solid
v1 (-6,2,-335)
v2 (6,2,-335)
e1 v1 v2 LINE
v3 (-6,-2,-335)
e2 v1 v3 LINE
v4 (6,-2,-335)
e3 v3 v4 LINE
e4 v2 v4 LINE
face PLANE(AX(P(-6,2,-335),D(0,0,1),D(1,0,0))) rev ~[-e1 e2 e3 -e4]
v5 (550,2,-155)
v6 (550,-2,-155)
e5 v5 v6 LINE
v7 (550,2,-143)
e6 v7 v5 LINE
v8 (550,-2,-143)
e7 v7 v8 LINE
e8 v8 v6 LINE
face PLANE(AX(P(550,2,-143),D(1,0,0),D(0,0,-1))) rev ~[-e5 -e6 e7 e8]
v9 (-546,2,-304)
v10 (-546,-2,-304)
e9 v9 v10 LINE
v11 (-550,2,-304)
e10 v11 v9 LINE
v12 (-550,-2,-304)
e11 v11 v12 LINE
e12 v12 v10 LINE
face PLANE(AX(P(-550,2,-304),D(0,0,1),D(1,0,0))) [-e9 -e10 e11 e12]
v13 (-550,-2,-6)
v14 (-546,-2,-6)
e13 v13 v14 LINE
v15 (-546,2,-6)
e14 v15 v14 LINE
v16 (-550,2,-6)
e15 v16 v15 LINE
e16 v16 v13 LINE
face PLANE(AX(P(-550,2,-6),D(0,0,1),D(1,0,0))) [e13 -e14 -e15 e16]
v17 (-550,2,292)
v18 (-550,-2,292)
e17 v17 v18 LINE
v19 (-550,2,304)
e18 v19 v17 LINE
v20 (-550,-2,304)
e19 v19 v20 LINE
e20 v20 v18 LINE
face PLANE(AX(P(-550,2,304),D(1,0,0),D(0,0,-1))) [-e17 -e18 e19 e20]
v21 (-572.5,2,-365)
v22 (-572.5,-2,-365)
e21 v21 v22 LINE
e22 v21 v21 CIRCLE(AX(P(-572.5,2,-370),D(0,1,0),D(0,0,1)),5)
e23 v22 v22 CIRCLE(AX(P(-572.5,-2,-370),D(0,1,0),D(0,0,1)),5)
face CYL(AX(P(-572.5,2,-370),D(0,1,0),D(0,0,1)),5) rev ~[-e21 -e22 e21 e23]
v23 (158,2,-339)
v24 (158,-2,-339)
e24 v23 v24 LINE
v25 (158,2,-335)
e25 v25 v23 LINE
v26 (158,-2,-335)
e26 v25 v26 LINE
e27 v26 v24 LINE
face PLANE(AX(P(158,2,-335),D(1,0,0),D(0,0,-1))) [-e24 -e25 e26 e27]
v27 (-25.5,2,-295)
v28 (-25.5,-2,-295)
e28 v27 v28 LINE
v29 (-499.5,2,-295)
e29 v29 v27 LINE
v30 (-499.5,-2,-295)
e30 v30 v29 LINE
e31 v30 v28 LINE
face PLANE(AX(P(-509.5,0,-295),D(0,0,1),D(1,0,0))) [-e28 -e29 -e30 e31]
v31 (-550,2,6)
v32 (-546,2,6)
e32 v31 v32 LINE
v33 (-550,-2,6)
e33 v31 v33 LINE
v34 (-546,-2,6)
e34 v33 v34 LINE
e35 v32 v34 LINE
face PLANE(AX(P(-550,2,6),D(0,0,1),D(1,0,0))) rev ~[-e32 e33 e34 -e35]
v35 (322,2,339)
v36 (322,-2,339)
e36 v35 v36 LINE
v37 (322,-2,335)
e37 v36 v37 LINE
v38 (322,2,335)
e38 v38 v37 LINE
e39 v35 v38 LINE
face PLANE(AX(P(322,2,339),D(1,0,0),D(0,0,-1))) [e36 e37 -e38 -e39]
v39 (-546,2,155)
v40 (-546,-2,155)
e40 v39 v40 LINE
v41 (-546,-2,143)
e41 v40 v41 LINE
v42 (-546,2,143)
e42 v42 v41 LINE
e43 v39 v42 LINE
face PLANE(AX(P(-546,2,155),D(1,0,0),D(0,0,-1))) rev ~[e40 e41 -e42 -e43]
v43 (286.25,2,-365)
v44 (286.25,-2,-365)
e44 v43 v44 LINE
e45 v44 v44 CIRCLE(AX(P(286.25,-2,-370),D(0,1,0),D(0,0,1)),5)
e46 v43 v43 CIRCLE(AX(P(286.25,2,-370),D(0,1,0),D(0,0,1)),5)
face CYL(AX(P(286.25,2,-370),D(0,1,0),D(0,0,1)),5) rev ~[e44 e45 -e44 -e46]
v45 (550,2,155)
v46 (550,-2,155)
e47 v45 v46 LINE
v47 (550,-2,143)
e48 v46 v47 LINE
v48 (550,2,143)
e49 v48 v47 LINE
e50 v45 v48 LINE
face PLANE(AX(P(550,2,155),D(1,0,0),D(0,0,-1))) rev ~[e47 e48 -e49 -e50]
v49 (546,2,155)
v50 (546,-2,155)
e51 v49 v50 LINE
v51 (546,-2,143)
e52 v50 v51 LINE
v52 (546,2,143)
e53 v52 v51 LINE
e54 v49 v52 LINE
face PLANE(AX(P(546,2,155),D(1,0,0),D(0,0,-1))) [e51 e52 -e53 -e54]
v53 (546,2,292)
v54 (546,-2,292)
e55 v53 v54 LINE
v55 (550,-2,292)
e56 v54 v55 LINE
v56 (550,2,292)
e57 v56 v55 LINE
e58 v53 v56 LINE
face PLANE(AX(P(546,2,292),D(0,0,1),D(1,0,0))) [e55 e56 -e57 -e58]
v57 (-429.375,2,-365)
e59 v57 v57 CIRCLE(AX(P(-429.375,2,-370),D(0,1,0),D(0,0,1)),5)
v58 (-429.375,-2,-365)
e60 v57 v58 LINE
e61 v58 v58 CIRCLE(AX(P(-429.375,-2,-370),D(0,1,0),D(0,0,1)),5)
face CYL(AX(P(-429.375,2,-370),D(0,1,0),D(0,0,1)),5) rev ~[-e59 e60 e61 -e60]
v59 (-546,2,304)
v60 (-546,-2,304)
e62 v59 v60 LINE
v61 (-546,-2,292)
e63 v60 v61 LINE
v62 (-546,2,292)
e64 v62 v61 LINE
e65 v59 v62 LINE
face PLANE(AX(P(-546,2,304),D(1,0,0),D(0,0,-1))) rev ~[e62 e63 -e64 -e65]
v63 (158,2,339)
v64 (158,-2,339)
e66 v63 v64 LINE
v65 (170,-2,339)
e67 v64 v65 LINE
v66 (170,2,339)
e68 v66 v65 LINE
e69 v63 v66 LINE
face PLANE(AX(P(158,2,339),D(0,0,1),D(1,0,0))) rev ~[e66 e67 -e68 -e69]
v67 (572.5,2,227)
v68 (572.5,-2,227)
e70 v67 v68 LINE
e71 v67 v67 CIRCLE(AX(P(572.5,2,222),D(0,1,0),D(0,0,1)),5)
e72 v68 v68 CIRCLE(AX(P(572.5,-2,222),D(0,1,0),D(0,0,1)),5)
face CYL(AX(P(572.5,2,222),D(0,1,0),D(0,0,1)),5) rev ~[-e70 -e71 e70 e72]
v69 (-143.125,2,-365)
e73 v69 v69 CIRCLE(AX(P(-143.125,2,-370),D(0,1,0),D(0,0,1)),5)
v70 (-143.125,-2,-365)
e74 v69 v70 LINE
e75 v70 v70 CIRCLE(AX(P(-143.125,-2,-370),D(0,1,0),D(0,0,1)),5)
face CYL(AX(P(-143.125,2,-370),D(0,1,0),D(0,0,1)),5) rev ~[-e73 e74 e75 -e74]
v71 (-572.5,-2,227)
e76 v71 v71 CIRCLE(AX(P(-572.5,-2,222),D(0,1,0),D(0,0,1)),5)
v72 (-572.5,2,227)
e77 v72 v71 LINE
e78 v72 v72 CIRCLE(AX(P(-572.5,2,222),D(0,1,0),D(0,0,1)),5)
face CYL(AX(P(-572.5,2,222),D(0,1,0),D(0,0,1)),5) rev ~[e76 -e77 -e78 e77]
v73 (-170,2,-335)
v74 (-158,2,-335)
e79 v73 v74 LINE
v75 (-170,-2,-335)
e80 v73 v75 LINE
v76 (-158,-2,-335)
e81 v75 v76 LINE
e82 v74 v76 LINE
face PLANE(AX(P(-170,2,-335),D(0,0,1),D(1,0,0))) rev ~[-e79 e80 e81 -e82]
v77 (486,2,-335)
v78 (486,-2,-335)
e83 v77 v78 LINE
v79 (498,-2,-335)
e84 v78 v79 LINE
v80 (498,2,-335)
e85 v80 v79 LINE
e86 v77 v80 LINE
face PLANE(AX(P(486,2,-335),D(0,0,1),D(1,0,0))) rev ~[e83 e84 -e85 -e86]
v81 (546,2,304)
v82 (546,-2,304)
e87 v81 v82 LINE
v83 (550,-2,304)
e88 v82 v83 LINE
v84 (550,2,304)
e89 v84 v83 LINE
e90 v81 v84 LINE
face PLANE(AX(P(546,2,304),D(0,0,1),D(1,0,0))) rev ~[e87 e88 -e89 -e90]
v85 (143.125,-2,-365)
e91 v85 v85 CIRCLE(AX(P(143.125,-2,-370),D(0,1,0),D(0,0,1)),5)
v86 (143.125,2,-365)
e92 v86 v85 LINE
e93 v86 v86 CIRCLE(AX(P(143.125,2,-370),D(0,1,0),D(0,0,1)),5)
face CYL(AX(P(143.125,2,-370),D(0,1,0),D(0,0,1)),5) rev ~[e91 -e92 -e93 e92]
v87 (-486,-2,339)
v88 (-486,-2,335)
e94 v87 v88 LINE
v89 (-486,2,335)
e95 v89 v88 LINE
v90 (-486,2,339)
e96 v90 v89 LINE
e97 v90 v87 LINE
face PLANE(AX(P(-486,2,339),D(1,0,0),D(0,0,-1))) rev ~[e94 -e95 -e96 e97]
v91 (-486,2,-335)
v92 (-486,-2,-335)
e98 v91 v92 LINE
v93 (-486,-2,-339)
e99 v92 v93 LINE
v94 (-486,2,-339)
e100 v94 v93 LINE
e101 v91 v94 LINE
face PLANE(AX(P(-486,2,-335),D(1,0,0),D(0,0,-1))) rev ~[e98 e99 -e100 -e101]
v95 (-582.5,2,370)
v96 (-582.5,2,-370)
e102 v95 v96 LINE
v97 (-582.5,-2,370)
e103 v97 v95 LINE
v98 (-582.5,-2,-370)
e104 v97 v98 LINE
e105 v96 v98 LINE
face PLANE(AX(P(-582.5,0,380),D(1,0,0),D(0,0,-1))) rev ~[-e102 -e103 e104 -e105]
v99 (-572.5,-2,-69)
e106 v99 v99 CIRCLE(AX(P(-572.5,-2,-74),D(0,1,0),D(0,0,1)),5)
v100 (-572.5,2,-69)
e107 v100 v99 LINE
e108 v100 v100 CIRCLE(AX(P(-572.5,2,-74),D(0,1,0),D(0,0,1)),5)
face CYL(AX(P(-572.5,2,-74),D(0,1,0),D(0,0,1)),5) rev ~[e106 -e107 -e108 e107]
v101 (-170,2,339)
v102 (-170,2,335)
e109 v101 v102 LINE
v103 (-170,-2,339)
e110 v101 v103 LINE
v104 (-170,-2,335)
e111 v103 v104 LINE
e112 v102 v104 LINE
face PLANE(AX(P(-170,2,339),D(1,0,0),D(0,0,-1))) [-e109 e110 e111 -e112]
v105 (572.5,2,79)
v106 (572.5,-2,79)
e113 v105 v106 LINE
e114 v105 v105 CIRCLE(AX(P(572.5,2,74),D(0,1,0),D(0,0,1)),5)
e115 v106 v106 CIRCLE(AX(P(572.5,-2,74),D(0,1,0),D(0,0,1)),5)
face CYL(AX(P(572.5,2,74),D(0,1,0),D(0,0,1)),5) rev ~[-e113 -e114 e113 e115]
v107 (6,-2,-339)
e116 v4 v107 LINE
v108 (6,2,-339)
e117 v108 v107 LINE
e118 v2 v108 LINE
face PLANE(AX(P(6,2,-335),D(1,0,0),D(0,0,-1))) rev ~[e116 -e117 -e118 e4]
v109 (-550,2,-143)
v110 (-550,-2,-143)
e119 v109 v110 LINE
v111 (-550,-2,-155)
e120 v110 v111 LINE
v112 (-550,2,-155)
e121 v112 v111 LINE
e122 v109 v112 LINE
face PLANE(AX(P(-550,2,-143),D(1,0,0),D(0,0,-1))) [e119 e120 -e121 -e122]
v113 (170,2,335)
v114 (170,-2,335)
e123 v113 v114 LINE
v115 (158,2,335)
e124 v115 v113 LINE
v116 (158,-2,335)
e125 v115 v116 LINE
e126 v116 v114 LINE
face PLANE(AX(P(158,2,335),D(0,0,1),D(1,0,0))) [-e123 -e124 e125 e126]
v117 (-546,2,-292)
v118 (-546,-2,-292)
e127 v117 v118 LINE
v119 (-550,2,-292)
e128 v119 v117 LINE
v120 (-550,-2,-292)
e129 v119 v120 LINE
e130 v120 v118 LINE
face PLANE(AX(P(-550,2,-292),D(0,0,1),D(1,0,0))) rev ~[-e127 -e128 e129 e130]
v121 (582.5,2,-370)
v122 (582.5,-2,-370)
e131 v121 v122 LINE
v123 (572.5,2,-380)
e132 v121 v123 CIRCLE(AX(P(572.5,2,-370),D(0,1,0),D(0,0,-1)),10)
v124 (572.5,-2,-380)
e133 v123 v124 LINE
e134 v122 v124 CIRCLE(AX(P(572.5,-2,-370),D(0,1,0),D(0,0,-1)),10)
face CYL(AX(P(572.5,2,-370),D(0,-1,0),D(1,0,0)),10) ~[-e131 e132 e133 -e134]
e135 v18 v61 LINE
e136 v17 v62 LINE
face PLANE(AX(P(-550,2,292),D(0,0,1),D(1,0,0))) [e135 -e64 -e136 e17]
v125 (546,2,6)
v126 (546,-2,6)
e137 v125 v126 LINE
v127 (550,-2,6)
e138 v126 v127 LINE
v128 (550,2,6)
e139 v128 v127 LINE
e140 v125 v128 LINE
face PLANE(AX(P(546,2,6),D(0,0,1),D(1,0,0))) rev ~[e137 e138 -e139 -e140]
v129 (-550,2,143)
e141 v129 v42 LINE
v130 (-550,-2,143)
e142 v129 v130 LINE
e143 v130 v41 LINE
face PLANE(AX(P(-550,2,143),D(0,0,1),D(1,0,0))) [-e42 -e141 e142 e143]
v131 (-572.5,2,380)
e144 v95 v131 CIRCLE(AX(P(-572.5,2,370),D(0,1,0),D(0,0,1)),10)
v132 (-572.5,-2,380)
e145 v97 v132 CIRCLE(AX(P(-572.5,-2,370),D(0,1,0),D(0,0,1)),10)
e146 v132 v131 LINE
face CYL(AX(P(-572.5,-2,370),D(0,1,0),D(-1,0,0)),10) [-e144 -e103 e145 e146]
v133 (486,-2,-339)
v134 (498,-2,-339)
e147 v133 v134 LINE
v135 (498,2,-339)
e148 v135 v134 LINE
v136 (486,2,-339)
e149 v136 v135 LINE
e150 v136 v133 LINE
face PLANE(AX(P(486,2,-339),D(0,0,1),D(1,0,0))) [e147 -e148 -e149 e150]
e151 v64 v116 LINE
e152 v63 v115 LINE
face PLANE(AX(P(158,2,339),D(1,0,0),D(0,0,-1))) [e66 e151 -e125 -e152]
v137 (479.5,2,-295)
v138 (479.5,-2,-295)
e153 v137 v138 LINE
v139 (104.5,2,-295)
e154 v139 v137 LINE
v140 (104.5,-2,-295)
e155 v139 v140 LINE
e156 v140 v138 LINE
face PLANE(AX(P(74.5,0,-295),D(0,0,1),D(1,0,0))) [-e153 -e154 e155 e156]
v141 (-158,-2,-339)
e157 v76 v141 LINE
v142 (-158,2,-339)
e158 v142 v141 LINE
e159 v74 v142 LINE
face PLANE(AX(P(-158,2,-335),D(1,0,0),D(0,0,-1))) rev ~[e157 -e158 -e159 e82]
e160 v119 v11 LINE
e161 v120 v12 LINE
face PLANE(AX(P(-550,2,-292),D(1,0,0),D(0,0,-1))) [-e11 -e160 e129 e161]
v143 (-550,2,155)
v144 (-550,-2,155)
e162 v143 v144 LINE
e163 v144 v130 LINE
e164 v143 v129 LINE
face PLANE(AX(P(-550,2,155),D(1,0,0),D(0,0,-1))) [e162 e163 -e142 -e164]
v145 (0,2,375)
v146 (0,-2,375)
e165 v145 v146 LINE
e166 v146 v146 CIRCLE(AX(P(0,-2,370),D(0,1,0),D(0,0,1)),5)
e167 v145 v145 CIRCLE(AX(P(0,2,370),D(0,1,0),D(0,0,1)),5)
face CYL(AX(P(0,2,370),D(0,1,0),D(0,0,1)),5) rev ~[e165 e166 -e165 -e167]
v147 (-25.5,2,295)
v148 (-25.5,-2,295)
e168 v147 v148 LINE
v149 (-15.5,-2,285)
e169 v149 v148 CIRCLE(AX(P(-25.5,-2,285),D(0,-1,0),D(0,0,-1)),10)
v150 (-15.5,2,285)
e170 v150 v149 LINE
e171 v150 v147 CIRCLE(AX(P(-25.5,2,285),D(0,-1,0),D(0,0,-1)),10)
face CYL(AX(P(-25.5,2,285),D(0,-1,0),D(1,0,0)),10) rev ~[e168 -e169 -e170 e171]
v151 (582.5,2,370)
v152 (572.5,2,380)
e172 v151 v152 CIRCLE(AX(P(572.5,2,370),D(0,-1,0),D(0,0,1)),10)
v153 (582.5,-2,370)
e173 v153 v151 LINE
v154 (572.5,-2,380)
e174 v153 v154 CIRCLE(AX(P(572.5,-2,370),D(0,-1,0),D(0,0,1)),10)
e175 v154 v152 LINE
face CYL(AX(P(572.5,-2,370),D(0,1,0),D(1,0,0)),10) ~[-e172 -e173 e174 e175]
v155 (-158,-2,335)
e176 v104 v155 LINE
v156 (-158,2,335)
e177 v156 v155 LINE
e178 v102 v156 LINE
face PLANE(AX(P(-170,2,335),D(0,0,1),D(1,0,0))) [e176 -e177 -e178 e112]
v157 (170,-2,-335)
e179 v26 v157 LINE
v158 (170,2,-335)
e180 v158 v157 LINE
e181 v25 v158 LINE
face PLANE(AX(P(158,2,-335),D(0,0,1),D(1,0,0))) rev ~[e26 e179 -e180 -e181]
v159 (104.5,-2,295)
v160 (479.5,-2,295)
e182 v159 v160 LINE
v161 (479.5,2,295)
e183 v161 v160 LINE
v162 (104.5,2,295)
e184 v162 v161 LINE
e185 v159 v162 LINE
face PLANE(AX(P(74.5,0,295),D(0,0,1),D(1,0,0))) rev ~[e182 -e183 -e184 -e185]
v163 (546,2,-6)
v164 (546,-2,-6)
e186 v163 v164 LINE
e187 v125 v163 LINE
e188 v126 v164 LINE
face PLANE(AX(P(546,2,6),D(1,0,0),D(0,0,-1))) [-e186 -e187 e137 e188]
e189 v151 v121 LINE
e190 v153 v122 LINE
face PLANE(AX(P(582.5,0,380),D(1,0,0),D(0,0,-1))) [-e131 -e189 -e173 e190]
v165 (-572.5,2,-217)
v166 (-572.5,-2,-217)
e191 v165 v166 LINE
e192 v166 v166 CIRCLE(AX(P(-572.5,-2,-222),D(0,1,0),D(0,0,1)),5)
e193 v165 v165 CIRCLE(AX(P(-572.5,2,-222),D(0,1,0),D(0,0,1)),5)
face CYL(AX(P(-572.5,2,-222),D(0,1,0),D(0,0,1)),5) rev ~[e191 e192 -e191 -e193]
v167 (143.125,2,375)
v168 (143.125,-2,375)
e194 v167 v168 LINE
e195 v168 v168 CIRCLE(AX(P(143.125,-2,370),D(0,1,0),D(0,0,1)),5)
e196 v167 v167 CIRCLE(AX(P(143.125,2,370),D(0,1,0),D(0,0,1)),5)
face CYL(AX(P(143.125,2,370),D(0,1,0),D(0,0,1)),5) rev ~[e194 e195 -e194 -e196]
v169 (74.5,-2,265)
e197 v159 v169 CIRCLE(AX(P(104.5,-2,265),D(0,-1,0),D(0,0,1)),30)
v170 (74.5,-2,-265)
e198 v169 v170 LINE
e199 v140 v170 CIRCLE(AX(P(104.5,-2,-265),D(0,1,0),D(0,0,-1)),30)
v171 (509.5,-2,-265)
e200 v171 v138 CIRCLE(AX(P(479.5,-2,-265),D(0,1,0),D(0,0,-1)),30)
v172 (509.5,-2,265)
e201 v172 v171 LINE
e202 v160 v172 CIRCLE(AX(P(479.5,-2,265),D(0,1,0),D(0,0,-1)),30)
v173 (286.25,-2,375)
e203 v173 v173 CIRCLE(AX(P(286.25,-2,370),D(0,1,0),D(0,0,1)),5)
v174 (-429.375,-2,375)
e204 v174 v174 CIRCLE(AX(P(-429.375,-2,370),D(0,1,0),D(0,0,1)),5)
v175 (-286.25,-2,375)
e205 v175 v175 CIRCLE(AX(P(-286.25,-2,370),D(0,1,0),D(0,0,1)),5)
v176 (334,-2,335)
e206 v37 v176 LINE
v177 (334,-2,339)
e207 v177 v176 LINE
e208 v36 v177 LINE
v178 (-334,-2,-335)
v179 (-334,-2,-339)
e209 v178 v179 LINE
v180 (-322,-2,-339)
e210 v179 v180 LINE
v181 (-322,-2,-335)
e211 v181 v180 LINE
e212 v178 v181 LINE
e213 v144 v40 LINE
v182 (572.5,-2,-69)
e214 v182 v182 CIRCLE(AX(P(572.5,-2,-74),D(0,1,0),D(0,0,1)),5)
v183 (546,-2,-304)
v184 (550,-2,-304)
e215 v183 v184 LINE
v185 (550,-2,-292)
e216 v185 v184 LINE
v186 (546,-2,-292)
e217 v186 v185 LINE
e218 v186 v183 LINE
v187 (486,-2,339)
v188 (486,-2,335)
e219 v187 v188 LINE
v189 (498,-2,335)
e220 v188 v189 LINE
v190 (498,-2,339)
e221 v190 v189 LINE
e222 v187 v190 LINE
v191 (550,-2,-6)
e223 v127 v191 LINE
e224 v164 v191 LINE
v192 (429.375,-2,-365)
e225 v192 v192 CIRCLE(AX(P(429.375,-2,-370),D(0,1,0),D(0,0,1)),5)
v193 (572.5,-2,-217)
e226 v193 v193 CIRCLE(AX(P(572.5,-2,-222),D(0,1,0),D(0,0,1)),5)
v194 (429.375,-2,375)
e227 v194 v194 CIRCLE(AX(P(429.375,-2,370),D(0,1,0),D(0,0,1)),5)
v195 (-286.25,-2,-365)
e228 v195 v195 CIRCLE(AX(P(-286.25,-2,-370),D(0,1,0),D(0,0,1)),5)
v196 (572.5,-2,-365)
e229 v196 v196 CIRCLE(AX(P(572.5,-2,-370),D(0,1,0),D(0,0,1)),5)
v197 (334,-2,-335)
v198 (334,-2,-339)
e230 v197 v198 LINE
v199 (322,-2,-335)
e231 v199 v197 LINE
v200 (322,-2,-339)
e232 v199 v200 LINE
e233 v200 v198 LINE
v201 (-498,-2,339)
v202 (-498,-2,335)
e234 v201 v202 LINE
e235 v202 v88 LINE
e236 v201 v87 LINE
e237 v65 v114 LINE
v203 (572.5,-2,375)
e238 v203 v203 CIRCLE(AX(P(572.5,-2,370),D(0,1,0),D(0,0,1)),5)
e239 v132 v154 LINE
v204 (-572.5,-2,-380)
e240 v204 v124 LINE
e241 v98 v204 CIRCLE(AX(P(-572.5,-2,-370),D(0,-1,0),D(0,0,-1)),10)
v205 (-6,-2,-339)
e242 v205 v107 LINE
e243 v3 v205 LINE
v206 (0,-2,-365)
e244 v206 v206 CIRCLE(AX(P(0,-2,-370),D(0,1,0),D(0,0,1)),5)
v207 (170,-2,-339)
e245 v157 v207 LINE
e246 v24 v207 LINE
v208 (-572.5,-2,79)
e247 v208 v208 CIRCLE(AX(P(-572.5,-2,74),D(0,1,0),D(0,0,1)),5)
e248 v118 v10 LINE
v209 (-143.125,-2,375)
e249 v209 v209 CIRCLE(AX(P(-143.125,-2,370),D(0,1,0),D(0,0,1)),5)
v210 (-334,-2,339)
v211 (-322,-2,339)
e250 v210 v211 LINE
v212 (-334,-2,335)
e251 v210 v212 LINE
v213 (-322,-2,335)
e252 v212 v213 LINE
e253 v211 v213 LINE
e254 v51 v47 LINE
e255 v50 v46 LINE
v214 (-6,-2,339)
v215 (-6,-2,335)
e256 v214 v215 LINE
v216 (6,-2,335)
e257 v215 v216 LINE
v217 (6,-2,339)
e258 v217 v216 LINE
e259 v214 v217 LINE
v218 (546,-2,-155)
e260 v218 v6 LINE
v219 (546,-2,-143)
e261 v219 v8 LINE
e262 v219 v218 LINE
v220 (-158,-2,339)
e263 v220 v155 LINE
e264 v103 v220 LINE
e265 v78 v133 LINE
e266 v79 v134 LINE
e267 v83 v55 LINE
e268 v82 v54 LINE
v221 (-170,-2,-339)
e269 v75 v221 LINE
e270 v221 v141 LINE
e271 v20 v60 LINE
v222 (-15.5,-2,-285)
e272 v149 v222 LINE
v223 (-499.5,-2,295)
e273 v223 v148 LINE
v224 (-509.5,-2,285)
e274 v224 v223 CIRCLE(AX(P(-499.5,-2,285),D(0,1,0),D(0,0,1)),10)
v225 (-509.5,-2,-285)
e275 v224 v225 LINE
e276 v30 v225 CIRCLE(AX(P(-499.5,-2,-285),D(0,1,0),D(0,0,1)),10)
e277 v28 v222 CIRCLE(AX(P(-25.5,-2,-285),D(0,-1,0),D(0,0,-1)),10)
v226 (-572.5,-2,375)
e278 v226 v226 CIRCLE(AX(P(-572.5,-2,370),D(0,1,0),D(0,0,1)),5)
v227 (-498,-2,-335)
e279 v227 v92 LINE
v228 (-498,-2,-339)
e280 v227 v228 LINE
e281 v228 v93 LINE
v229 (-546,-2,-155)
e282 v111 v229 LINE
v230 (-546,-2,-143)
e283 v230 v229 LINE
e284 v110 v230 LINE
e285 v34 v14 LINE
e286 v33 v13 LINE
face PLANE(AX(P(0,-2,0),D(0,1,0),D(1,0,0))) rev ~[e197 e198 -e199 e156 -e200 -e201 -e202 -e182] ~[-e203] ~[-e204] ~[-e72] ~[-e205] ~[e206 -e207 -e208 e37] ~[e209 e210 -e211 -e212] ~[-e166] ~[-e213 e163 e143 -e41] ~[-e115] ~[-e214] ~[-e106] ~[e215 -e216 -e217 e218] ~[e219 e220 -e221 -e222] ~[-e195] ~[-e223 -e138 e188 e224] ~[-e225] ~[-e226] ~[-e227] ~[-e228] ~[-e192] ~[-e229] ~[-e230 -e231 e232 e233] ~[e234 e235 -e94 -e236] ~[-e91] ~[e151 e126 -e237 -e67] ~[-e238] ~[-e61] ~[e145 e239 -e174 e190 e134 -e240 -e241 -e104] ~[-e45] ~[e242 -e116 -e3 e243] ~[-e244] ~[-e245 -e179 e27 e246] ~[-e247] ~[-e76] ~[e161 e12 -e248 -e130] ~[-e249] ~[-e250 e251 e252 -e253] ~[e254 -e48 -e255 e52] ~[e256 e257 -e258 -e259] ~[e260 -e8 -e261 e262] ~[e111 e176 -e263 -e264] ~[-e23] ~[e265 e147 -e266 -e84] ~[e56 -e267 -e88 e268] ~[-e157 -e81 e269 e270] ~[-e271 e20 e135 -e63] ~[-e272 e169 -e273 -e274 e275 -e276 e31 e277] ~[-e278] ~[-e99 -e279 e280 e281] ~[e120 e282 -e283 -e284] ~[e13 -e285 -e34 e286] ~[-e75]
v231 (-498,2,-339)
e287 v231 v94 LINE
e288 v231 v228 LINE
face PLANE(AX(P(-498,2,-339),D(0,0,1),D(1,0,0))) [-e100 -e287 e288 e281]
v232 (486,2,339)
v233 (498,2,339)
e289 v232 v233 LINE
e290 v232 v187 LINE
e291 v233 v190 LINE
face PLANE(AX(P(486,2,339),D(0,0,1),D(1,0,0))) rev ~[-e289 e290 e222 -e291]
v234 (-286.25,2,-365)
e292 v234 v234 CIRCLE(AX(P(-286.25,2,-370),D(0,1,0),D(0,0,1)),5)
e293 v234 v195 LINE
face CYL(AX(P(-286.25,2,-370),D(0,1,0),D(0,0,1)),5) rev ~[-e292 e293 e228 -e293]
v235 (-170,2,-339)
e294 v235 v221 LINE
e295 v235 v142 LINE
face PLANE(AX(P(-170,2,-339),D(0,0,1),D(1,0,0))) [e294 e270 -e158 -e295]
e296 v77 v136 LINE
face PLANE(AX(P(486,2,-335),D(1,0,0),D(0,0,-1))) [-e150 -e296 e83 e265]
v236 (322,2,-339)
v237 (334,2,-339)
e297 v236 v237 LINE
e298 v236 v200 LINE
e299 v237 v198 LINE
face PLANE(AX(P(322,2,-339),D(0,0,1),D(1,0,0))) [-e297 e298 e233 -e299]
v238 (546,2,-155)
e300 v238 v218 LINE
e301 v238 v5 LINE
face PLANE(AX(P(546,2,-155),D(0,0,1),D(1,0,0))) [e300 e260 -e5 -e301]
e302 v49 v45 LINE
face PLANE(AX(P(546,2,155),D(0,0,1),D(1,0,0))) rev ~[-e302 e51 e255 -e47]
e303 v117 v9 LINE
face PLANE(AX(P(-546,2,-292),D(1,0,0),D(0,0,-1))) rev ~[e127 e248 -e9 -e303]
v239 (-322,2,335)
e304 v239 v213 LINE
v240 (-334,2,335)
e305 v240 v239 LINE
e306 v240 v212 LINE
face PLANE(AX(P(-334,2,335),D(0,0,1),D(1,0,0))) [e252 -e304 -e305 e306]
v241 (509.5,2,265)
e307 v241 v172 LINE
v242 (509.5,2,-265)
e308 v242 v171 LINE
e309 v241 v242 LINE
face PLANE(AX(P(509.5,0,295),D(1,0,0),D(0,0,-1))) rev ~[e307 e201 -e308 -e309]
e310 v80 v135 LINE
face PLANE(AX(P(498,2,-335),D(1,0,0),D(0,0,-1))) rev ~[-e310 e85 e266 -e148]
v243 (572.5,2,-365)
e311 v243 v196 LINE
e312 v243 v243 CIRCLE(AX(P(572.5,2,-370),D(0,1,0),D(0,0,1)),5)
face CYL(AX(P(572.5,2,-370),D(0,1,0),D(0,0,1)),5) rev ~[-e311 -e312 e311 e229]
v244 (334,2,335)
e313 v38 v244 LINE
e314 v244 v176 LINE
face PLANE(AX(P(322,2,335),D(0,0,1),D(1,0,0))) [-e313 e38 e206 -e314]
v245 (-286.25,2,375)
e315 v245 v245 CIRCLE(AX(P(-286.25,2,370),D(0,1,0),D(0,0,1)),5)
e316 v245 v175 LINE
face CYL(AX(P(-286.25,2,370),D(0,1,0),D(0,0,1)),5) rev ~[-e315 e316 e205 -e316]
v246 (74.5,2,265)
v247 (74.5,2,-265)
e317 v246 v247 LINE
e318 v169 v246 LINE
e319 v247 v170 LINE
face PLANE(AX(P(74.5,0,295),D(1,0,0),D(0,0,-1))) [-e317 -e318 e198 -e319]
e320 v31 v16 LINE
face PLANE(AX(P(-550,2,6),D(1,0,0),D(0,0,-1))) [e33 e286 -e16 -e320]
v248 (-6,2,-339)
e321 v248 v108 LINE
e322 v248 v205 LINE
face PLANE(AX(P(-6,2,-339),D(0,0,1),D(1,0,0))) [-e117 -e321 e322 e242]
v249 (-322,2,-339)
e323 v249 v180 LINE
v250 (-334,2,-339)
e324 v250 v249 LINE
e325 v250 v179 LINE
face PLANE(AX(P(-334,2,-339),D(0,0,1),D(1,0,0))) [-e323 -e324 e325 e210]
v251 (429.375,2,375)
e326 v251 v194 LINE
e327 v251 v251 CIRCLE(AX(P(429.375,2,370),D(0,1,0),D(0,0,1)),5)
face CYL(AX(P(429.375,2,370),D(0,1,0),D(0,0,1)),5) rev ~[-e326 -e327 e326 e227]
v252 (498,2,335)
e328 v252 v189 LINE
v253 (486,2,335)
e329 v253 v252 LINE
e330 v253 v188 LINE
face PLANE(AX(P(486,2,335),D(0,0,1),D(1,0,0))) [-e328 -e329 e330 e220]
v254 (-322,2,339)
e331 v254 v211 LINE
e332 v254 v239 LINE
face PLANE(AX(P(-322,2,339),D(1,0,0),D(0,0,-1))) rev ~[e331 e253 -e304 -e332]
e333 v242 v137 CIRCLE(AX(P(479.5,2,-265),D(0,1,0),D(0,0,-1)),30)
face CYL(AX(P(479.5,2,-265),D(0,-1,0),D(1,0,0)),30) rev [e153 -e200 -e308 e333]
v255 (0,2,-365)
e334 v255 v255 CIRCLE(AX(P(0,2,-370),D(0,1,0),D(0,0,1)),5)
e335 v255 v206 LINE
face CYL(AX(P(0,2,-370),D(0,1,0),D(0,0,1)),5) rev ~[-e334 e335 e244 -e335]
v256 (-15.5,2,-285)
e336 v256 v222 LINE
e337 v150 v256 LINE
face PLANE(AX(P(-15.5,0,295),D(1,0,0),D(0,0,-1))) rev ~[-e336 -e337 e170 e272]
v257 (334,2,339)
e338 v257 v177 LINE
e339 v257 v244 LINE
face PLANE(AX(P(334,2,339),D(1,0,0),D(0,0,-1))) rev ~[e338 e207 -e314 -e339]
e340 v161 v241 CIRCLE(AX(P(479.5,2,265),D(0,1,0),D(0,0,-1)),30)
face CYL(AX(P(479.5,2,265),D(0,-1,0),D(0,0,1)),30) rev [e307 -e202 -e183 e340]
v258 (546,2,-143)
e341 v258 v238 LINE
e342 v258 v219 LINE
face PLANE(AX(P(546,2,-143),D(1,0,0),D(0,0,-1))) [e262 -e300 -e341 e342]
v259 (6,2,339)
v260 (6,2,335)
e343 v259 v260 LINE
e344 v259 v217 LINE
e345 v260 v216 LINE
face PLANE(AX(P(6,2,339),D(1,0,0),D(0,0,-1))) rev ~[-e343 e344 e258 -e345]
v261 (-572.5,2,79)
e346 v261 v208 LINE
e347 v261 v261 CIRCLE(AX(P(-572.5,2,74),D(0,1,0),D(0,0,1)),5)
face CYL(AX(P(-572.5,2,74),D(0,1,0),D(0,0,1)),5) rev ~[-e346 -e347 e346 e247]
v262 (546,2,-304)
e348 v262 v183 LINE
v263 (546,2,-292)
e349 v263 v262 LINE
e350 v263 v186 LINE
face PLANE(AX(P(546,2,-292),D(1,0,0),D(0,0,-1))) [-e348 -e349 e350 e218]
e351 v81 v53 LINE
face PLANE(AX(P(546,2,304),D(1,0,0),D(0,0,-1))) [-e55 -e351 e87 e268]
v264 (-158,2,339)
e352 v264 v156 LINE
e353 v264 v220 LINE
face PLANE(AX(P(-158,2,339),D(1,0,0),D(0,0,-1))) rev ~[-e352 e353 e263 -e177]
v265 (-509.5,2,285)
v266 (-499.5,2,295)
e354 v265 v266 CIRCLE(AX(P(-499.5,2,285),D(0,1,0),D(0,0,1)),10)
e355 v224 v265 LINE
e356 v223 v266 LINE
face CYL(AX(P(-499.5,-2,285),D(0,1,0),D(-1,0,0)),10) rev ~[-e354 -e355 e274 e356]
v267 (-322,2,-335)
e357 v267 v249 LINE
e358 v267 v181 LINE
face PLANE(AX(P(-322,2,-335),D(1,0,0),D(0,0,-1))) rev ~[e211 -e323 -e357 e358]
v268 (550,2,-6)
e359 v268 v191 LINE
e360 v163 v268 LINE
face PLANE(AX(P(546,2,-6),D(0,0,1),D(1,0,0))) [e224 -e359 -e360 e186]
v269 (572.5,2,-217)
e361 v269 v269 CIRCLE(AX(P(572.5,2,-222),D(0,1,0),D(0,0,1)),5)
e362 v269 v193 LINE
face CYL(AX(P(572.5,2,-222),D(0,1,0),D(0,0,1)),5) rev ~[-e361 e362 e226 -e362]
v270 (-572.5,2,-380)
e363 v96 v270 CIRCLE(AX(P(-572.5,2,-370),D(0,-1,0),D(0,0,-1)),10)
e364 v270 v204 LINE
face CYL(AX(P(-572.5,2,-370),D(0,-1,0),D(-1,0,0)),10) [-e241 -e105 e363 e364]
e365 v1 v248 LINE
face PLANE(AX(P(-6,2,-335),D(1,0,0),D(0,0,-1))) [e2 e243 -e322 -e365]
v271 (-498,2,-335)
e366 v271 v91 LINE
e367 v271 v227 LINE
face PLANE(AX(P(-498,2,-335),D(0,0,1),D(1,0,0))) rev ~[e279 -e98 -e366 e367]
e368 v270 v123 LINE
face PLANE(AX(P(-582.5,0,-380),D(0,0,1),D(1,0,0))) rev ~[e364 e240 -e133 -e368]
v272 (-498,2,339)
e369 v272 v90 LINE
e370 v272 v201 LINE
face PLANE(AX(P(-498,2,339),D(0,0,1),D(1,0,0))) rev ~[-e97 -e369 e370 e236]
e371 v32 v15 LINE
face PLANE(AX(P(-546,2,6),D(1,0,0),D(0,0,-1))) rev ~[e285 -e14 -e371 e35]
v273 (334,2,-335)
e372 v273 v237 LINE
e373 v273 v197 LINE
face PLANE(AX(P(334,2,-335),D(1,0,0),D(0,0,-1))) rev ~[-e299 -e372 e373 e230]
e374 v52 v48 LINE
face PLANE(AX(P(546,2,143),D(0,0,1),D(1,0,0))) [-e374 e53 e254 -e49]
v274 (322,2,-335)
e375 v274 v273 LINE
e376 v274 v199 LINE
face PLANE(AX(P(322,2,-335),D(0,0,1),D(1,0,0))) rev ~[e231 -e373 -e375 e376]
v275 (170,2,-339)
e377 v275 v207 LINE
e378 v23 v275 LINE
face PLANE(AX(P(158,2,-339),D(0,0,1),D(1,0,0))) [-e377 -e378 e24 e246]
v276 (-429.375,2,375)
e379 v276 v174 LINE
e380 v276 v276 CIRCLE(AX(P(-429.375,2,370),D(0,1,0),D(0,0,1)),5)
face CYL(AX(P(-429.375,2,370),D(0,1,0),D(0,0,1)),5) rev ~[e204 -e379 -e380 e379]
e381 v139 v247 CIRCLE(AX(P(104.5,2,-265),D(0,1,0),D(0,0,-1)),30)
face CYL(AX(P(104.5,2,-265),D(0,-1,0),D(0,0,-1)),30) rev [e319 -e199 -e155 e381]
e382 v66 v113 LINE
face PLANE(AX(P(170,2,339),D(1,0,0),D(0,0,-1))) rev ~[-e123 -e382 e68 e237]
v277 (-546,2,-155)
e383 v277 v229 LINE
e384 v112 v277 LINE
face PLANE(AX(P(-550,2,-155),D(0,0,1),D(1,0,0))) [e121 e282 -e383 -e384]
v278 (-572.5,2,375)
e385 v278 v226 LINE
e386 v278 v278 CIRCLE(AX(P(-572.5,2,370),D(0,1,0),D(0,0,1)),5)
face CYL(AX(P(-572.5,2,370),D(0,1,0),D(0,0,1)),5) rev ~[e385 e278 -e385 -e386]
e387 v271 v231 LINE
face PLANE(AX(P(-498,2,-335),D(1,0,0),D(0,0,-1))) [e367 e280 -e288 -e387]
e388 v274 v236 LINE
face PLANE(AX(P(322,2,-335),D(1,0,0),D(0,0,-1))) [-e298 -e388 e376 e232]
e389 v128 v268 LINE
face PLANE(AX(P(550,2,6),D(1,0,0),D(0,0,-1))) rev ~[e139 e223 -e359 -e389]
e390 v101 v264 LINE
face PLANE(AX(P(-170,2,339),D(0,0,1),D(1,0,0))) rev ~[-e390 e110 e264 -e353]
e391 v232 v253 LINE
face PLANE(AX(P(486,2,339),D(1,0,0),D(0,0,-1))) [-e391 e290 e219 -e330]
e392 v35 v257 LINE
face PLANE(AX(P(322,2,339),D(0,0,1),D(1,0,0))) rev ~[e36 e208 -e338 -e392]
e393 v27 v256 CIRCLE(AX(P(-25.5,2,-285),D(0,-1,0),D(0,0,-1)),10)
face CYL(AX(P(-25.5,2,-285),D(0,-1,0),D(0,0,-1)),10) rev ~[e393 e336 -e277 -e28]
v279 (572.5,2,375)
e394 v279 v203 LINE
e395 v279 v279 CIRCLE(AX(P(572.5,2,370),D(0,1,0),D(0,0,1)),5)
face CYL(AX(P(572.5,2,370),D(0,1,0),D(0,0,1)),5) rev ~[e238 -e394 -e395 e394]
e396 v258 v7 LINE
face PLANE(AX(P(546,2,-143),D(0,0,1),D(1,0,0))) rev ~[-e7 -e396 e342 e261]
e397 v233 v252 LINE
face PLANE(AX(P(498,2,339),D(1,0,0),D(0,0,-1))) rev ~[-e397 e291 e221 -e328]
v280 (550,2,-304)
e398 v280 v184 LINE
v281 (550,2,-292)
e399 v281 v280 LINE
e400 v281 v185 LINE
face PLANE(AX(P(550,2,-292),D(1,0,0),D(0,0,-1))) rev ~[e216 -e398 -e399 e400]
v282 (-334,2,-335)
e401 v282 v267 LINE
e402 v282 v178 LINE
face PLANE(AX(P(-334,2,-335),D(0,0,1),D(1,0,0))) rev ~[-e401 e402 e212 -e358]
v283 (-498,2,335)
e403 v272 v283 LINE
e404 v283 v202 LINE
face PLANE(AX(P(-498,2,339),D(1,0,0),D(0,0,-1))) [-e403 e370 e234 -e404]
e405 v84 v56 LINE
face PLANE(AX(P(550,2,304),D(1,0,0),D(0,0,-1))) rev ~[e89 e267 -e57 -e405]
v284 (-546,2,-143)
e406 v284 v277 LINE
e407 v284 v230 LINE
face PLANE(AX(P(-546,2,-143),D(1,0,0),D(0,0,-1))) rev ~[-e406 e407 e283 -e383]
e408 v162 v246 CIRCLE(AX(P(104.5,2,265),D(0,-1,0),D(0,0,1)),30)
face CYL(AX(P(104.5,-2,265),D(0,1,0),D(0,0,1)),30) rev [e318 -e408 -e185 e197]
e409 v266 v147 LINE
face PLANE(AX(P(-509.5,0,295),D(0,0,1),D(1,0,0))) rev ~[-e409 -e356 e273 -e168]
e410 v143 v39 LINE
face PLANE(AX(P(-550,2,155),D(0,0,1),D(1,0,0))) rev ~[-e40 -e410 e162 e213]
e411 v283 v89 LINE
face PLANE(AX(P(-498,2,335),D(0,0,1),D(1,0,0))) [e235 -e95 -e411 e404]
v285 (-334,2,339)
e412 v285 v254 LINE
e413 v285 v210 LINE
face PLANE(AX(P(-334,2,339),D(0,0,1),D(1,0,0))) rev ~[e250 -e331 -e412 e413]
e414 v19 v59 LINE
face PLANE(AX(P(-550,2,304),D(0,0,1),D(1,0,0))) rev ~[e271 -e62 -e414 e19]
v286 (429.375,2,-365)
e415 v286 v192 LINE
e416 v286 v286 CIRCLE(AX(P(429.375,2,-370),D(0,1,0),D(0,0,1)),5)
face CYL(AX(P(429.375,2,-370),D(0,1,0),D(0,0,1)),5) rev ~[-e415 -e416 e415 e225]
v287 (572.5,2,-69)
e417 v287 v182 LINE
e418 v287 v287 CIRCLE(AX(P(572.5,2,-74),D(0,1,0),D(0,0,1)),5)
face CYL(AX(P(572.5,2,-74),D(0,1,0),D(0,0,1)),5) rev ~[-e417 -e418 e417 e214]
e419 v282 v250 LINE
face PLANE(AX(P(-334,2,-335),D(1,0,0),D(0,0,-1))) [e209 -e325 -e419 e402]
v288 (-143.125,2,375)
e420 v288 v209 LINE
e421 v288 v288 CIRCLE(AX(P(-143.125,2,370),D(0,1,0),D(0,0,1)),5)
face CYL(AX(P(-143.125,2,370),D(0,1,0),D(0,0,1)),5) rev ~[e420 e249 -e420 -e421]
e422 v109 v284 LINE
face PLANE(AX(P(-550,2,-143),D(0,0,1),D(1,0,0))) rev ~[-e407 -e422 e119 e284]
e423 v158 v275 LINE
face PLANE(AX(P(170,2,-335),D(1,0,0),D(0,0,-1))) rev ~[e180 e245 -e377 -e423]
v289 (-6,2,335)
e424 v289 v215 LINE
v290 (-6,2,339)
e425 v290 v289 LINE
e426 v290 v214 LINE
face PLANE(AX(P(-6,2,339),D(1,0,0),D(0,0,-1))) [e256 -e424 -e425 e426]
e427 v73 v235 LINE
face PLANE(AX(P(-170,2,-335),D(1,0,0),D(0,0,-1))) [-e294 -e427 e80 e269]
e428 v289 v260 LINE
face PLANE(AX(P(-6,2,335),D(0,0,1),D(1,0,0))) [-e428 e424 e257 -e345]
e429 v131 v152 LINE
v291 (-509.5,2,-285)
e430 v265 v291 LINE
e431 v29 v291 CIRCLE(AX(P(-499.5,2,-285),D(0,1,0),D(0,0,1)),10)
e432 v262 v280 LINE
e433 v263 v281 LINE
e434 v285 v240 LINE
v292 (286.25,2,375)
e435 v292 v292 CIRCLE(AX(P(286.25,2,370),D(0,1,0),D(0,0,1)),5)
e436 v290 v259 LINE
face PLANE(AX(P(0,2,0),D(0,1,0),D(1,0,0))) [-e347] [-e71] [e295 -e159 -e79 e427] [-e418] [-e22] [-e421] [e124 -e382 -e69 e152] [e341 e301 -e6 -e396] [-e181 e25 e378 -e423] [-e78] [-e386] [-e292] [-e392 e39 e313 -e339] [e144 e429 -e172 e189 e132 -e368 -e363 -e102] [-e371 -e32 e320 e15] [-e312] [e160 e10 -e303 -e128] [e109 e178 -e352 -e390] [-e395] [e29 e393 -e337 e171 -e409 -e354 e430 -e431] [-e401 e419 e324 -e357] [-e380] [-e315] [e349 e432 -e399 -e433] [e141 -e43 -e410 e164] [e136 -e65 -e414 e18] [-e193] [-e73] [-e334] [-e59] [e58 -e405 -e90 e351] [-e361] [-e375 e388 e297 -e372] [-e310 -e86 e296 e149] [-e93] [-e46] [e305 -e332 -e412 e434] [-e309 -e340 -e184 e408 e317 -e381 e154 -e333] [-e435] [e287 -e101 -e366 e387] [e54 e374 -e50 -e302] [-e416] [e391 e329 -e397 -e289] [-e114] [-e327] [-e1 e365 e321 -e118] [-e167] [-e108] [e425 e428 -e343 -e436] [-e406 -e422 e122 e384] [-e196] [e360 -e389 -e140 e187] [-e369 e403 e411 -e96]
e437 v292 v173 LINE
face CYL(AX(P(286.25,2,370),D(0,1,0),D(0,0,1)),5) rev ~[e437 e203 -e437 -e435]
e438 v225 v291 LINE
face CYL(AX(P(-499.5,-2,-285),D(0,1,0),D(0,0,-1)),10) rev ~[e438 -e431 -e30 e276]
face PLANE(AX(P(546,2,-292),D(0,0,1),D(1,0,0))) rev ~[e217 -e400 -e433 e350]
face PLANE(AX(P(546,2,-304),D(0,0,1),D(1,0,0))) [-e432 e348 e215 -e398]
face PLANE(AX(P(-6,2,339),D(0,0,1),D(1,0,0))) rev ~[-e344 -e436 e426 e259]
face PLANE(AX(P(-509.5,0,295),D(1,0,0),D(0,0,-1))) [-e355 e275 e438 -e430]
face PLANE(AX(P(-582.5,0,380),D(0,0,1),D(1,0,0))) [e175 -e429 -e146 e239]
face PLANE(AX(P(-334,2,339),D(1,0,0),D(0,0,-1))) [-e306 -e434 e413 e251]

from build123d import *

# Parameters (mm, degrees)
SKETCH_1_W                  = 1165
SKETCH_1_H                  = 760
SKETCH_1_W_2                = 494
SKETCH_1_H_2                = 590
SKETCH_1_W_3                = 435
EXTRUDE_1_DEPTH             = 2
FILLET_1_R                  = 10
FILLET_2_R                  = 30
SKETCH_2_R                  = 5
CUT_EXTRUDE_1_DEPTH         = 696.501437813
PATTERN_LINEAR_1_COUNT      = 6
PATTERN_LINEAR_1_PITCH      = 148
PATTERN_LINEAR_1_COUNT_DIR2 = 9
PATTERN_LINEAR_1_PITCH_DIR2 = 143.125
SKETCH_3_W                  = 12
SKETCH_3_H                  = 4
SKETCH_3_W_2                = 4
SKETCH_3_H_2                = 12
CUT_EXTRUDE_2_DEPTH         = 696.501437813


with BuildPart() as part:
    # Эскиз1 → Бобышка-Вытянуть1 (new, symmetric)
    with BuildSketch(Plane(origin=(0, 0, 0), x_dir=(1, 0, 0), z_dir=(0, 1, 0))):
        Rectangle(SKETCH_1_W, SKETCH_1_H)
        with Locations((-262.5, 0)):
            Rectangle(SKETCH_1_W_2, SKETCH_1_H_2, mode=Mode.SUBTRACT)
        with Locations((292, 0)):
            Rectangle(SKETCH_1_W_3, SKETCH_1_H_2, mode=Mode.SUBTRACT)
    extrude(amount=EXTRUDE_1_DEPTH, both=True)

    # Скругление1
    fillet_1_edges = [part.edges().sort_by_distance(p)[0] for p in [
        (-509.5, 0, -295),
        (-509.5, 0, 295),
        (-15.5, 0, 295),
        (-15.5, 0, -295),
        (582.5, 0, 380),
        (-582.5, 0, 380),
        (-582.5, 0, -380),
        (582.5, 0, -380),
    ]]
    fillet(fillet_1_edges, radius=FILLET_1_R)

    # Скругление2
    fillet_2_edges = [part.edges().sort_by_distance(p)[0] for p in [
        (74.5, 0, -295),
        (74.5, 0, 295),
        (509.5, 0, 295),
        (509.5, 0, -295),
    ]]
    fillet(fillet_2_edges, radius=FILLET_2_R)

    # Эскиз2 → Вырез-Вытянуть1 (cut, through all)
    with BuildSketch(Plane(origin=(0, 2, 0), x_dir=(1, 0, 0), z_dir=(0, 1, 0))):
        with Locations(Location((-572.5, -370, 0), (0, 0, 270))):
            Circle(SKETCH_2_R)
    cut_extrude_1 = extrude(amount=-CUT_EXTRUDE_1_DEPTH, mode=Mode.SUBTRACT)

    # Линейный массив1: Cut-Extrude 1 6 × 9, 25 skipped
    with Locations(*[(j * PATTERN_LINEAR_1_PITCH_DIR2, 0, -i * PATTERN_LINEAR_1_PITCH) for i in range(PATTERN_LINEAR_1_COUNT) for j in range(PATTERN_LINEAR_1_COUNT_DIR2) if (i, j) not in ((0, 0), (1, 1), (1, 2), (1, 3), (1, 4), (1, 5), (1, 6), (1, 7), (2, 1), (2, 2), (2, 3), (2, 4), (2, 5), (2, 6), (2, 7), (3, 1), (3, 2), (3, 3), (3, 4), (3, 5), (3, 6), (3, 7), (4, 1), (4, 2), (4, 3), (4, 4))]):
        add(cut_extrude_1, mode=Mode.SUBTRACT)

    # Эскиз3 → Вырез-Вытянуть2 (cut, through all)
    with BuildSketch(Plane(origin=(0, 2, 0), x_dir=(1, 0, 0), z_dir=(0, 1, 0))):
        with Locations((492, 337)):
            Rectangle(SKETCH_3_W, SKETCH_3_H)
        with Locations((328, 337)):
            Rectangle(SKETCH_3_W, SKETCH_3_H)
        with Locations((0, 337)):
            Rectangle(SKETCH_3_W, SKETCH_3_H)
        with Locations((164, 337)):
            Rectangle(SKETCH_3_W, SKETCH_3_H)
        with Locations((-492, 337)):
            Rectangle(SKETCH_3_W, SKETCH_3_H)
        with Locations((-164, 337)):
            Rectangle(SKETCH_3_W, SKETCH_3_H)
        with Locations((-328, 337)):
            Rectangle(SKETCH_3_W, SKETCH_3_H)
        with Locations((492, -337)):
            Rectangle(SKETCH_3_W, SKETCH_3_H)
        with Locations((328, -337)):
            Rectangle(SKETCH_3_W, SKETCH_3_H)
        with Locations((0, -337)):
            Rectangle(SKETCH_3_W, SKETCH_3_H)
        with Locations((164, -337)):
            Rectangle(SKETCH_3_W, SKETCH_3_H)
        with Locations((-492, -337)):
            Rectangle(SKETCH_3_W, SKETCH_3_H)
        with Locations((-164, -337)):
            Rectangle(SKETCH_3_W, SKETCH_3_H)
        with Locations((-328, -337)):
            Rectangle(SKETCH_3_W, SKETCH_3_H)
        with Locations((-548, 149)):
            Rectangle(SKETCH_3_W_2, SKETCH_3_H_2)
        with Locations((-548, 298)):
            Rectangle(SKETCH_3_W_2, SKETCH_3_H_2)
        with Locations((-548, -149)):
            Rectangle(SKETCH_3_W_2, SKETCH_3_H_2)
        with Locations((-548, 0)):
            Rectangle(SKETCH_3_W_2, SKETCH_3_H_2)
        with Locations((-548, -298)):
            Rectangle(SKETCH_3_W_2, SKETCH_3_H_2)
        with Locations((548, -149)):
            Rectangle(SKETCH_3_W_2, SKETCH_3_H_2)
        with Locations((548, -298)):
            Rectangle(SKETCH_3_W_2, SKETCH_3_H_2)
        with Locations((548, 149)):
            Rectangle(SKETCH_3_W_2, SKETCH_3_H_2)
        with Locations((548, 0)):
            Rectangle(SKETCH_3_W_2, SKETCH_3_H_2)
        with Locations((548, 298)):
            Rectangle(SKETCH_3_W_2, SKETCH_3_H_2)
    extrude(amount=-CUT_EXTRUDE_2_DEPTH, mode=Mode.SUBTRACT)


solid = part.part
